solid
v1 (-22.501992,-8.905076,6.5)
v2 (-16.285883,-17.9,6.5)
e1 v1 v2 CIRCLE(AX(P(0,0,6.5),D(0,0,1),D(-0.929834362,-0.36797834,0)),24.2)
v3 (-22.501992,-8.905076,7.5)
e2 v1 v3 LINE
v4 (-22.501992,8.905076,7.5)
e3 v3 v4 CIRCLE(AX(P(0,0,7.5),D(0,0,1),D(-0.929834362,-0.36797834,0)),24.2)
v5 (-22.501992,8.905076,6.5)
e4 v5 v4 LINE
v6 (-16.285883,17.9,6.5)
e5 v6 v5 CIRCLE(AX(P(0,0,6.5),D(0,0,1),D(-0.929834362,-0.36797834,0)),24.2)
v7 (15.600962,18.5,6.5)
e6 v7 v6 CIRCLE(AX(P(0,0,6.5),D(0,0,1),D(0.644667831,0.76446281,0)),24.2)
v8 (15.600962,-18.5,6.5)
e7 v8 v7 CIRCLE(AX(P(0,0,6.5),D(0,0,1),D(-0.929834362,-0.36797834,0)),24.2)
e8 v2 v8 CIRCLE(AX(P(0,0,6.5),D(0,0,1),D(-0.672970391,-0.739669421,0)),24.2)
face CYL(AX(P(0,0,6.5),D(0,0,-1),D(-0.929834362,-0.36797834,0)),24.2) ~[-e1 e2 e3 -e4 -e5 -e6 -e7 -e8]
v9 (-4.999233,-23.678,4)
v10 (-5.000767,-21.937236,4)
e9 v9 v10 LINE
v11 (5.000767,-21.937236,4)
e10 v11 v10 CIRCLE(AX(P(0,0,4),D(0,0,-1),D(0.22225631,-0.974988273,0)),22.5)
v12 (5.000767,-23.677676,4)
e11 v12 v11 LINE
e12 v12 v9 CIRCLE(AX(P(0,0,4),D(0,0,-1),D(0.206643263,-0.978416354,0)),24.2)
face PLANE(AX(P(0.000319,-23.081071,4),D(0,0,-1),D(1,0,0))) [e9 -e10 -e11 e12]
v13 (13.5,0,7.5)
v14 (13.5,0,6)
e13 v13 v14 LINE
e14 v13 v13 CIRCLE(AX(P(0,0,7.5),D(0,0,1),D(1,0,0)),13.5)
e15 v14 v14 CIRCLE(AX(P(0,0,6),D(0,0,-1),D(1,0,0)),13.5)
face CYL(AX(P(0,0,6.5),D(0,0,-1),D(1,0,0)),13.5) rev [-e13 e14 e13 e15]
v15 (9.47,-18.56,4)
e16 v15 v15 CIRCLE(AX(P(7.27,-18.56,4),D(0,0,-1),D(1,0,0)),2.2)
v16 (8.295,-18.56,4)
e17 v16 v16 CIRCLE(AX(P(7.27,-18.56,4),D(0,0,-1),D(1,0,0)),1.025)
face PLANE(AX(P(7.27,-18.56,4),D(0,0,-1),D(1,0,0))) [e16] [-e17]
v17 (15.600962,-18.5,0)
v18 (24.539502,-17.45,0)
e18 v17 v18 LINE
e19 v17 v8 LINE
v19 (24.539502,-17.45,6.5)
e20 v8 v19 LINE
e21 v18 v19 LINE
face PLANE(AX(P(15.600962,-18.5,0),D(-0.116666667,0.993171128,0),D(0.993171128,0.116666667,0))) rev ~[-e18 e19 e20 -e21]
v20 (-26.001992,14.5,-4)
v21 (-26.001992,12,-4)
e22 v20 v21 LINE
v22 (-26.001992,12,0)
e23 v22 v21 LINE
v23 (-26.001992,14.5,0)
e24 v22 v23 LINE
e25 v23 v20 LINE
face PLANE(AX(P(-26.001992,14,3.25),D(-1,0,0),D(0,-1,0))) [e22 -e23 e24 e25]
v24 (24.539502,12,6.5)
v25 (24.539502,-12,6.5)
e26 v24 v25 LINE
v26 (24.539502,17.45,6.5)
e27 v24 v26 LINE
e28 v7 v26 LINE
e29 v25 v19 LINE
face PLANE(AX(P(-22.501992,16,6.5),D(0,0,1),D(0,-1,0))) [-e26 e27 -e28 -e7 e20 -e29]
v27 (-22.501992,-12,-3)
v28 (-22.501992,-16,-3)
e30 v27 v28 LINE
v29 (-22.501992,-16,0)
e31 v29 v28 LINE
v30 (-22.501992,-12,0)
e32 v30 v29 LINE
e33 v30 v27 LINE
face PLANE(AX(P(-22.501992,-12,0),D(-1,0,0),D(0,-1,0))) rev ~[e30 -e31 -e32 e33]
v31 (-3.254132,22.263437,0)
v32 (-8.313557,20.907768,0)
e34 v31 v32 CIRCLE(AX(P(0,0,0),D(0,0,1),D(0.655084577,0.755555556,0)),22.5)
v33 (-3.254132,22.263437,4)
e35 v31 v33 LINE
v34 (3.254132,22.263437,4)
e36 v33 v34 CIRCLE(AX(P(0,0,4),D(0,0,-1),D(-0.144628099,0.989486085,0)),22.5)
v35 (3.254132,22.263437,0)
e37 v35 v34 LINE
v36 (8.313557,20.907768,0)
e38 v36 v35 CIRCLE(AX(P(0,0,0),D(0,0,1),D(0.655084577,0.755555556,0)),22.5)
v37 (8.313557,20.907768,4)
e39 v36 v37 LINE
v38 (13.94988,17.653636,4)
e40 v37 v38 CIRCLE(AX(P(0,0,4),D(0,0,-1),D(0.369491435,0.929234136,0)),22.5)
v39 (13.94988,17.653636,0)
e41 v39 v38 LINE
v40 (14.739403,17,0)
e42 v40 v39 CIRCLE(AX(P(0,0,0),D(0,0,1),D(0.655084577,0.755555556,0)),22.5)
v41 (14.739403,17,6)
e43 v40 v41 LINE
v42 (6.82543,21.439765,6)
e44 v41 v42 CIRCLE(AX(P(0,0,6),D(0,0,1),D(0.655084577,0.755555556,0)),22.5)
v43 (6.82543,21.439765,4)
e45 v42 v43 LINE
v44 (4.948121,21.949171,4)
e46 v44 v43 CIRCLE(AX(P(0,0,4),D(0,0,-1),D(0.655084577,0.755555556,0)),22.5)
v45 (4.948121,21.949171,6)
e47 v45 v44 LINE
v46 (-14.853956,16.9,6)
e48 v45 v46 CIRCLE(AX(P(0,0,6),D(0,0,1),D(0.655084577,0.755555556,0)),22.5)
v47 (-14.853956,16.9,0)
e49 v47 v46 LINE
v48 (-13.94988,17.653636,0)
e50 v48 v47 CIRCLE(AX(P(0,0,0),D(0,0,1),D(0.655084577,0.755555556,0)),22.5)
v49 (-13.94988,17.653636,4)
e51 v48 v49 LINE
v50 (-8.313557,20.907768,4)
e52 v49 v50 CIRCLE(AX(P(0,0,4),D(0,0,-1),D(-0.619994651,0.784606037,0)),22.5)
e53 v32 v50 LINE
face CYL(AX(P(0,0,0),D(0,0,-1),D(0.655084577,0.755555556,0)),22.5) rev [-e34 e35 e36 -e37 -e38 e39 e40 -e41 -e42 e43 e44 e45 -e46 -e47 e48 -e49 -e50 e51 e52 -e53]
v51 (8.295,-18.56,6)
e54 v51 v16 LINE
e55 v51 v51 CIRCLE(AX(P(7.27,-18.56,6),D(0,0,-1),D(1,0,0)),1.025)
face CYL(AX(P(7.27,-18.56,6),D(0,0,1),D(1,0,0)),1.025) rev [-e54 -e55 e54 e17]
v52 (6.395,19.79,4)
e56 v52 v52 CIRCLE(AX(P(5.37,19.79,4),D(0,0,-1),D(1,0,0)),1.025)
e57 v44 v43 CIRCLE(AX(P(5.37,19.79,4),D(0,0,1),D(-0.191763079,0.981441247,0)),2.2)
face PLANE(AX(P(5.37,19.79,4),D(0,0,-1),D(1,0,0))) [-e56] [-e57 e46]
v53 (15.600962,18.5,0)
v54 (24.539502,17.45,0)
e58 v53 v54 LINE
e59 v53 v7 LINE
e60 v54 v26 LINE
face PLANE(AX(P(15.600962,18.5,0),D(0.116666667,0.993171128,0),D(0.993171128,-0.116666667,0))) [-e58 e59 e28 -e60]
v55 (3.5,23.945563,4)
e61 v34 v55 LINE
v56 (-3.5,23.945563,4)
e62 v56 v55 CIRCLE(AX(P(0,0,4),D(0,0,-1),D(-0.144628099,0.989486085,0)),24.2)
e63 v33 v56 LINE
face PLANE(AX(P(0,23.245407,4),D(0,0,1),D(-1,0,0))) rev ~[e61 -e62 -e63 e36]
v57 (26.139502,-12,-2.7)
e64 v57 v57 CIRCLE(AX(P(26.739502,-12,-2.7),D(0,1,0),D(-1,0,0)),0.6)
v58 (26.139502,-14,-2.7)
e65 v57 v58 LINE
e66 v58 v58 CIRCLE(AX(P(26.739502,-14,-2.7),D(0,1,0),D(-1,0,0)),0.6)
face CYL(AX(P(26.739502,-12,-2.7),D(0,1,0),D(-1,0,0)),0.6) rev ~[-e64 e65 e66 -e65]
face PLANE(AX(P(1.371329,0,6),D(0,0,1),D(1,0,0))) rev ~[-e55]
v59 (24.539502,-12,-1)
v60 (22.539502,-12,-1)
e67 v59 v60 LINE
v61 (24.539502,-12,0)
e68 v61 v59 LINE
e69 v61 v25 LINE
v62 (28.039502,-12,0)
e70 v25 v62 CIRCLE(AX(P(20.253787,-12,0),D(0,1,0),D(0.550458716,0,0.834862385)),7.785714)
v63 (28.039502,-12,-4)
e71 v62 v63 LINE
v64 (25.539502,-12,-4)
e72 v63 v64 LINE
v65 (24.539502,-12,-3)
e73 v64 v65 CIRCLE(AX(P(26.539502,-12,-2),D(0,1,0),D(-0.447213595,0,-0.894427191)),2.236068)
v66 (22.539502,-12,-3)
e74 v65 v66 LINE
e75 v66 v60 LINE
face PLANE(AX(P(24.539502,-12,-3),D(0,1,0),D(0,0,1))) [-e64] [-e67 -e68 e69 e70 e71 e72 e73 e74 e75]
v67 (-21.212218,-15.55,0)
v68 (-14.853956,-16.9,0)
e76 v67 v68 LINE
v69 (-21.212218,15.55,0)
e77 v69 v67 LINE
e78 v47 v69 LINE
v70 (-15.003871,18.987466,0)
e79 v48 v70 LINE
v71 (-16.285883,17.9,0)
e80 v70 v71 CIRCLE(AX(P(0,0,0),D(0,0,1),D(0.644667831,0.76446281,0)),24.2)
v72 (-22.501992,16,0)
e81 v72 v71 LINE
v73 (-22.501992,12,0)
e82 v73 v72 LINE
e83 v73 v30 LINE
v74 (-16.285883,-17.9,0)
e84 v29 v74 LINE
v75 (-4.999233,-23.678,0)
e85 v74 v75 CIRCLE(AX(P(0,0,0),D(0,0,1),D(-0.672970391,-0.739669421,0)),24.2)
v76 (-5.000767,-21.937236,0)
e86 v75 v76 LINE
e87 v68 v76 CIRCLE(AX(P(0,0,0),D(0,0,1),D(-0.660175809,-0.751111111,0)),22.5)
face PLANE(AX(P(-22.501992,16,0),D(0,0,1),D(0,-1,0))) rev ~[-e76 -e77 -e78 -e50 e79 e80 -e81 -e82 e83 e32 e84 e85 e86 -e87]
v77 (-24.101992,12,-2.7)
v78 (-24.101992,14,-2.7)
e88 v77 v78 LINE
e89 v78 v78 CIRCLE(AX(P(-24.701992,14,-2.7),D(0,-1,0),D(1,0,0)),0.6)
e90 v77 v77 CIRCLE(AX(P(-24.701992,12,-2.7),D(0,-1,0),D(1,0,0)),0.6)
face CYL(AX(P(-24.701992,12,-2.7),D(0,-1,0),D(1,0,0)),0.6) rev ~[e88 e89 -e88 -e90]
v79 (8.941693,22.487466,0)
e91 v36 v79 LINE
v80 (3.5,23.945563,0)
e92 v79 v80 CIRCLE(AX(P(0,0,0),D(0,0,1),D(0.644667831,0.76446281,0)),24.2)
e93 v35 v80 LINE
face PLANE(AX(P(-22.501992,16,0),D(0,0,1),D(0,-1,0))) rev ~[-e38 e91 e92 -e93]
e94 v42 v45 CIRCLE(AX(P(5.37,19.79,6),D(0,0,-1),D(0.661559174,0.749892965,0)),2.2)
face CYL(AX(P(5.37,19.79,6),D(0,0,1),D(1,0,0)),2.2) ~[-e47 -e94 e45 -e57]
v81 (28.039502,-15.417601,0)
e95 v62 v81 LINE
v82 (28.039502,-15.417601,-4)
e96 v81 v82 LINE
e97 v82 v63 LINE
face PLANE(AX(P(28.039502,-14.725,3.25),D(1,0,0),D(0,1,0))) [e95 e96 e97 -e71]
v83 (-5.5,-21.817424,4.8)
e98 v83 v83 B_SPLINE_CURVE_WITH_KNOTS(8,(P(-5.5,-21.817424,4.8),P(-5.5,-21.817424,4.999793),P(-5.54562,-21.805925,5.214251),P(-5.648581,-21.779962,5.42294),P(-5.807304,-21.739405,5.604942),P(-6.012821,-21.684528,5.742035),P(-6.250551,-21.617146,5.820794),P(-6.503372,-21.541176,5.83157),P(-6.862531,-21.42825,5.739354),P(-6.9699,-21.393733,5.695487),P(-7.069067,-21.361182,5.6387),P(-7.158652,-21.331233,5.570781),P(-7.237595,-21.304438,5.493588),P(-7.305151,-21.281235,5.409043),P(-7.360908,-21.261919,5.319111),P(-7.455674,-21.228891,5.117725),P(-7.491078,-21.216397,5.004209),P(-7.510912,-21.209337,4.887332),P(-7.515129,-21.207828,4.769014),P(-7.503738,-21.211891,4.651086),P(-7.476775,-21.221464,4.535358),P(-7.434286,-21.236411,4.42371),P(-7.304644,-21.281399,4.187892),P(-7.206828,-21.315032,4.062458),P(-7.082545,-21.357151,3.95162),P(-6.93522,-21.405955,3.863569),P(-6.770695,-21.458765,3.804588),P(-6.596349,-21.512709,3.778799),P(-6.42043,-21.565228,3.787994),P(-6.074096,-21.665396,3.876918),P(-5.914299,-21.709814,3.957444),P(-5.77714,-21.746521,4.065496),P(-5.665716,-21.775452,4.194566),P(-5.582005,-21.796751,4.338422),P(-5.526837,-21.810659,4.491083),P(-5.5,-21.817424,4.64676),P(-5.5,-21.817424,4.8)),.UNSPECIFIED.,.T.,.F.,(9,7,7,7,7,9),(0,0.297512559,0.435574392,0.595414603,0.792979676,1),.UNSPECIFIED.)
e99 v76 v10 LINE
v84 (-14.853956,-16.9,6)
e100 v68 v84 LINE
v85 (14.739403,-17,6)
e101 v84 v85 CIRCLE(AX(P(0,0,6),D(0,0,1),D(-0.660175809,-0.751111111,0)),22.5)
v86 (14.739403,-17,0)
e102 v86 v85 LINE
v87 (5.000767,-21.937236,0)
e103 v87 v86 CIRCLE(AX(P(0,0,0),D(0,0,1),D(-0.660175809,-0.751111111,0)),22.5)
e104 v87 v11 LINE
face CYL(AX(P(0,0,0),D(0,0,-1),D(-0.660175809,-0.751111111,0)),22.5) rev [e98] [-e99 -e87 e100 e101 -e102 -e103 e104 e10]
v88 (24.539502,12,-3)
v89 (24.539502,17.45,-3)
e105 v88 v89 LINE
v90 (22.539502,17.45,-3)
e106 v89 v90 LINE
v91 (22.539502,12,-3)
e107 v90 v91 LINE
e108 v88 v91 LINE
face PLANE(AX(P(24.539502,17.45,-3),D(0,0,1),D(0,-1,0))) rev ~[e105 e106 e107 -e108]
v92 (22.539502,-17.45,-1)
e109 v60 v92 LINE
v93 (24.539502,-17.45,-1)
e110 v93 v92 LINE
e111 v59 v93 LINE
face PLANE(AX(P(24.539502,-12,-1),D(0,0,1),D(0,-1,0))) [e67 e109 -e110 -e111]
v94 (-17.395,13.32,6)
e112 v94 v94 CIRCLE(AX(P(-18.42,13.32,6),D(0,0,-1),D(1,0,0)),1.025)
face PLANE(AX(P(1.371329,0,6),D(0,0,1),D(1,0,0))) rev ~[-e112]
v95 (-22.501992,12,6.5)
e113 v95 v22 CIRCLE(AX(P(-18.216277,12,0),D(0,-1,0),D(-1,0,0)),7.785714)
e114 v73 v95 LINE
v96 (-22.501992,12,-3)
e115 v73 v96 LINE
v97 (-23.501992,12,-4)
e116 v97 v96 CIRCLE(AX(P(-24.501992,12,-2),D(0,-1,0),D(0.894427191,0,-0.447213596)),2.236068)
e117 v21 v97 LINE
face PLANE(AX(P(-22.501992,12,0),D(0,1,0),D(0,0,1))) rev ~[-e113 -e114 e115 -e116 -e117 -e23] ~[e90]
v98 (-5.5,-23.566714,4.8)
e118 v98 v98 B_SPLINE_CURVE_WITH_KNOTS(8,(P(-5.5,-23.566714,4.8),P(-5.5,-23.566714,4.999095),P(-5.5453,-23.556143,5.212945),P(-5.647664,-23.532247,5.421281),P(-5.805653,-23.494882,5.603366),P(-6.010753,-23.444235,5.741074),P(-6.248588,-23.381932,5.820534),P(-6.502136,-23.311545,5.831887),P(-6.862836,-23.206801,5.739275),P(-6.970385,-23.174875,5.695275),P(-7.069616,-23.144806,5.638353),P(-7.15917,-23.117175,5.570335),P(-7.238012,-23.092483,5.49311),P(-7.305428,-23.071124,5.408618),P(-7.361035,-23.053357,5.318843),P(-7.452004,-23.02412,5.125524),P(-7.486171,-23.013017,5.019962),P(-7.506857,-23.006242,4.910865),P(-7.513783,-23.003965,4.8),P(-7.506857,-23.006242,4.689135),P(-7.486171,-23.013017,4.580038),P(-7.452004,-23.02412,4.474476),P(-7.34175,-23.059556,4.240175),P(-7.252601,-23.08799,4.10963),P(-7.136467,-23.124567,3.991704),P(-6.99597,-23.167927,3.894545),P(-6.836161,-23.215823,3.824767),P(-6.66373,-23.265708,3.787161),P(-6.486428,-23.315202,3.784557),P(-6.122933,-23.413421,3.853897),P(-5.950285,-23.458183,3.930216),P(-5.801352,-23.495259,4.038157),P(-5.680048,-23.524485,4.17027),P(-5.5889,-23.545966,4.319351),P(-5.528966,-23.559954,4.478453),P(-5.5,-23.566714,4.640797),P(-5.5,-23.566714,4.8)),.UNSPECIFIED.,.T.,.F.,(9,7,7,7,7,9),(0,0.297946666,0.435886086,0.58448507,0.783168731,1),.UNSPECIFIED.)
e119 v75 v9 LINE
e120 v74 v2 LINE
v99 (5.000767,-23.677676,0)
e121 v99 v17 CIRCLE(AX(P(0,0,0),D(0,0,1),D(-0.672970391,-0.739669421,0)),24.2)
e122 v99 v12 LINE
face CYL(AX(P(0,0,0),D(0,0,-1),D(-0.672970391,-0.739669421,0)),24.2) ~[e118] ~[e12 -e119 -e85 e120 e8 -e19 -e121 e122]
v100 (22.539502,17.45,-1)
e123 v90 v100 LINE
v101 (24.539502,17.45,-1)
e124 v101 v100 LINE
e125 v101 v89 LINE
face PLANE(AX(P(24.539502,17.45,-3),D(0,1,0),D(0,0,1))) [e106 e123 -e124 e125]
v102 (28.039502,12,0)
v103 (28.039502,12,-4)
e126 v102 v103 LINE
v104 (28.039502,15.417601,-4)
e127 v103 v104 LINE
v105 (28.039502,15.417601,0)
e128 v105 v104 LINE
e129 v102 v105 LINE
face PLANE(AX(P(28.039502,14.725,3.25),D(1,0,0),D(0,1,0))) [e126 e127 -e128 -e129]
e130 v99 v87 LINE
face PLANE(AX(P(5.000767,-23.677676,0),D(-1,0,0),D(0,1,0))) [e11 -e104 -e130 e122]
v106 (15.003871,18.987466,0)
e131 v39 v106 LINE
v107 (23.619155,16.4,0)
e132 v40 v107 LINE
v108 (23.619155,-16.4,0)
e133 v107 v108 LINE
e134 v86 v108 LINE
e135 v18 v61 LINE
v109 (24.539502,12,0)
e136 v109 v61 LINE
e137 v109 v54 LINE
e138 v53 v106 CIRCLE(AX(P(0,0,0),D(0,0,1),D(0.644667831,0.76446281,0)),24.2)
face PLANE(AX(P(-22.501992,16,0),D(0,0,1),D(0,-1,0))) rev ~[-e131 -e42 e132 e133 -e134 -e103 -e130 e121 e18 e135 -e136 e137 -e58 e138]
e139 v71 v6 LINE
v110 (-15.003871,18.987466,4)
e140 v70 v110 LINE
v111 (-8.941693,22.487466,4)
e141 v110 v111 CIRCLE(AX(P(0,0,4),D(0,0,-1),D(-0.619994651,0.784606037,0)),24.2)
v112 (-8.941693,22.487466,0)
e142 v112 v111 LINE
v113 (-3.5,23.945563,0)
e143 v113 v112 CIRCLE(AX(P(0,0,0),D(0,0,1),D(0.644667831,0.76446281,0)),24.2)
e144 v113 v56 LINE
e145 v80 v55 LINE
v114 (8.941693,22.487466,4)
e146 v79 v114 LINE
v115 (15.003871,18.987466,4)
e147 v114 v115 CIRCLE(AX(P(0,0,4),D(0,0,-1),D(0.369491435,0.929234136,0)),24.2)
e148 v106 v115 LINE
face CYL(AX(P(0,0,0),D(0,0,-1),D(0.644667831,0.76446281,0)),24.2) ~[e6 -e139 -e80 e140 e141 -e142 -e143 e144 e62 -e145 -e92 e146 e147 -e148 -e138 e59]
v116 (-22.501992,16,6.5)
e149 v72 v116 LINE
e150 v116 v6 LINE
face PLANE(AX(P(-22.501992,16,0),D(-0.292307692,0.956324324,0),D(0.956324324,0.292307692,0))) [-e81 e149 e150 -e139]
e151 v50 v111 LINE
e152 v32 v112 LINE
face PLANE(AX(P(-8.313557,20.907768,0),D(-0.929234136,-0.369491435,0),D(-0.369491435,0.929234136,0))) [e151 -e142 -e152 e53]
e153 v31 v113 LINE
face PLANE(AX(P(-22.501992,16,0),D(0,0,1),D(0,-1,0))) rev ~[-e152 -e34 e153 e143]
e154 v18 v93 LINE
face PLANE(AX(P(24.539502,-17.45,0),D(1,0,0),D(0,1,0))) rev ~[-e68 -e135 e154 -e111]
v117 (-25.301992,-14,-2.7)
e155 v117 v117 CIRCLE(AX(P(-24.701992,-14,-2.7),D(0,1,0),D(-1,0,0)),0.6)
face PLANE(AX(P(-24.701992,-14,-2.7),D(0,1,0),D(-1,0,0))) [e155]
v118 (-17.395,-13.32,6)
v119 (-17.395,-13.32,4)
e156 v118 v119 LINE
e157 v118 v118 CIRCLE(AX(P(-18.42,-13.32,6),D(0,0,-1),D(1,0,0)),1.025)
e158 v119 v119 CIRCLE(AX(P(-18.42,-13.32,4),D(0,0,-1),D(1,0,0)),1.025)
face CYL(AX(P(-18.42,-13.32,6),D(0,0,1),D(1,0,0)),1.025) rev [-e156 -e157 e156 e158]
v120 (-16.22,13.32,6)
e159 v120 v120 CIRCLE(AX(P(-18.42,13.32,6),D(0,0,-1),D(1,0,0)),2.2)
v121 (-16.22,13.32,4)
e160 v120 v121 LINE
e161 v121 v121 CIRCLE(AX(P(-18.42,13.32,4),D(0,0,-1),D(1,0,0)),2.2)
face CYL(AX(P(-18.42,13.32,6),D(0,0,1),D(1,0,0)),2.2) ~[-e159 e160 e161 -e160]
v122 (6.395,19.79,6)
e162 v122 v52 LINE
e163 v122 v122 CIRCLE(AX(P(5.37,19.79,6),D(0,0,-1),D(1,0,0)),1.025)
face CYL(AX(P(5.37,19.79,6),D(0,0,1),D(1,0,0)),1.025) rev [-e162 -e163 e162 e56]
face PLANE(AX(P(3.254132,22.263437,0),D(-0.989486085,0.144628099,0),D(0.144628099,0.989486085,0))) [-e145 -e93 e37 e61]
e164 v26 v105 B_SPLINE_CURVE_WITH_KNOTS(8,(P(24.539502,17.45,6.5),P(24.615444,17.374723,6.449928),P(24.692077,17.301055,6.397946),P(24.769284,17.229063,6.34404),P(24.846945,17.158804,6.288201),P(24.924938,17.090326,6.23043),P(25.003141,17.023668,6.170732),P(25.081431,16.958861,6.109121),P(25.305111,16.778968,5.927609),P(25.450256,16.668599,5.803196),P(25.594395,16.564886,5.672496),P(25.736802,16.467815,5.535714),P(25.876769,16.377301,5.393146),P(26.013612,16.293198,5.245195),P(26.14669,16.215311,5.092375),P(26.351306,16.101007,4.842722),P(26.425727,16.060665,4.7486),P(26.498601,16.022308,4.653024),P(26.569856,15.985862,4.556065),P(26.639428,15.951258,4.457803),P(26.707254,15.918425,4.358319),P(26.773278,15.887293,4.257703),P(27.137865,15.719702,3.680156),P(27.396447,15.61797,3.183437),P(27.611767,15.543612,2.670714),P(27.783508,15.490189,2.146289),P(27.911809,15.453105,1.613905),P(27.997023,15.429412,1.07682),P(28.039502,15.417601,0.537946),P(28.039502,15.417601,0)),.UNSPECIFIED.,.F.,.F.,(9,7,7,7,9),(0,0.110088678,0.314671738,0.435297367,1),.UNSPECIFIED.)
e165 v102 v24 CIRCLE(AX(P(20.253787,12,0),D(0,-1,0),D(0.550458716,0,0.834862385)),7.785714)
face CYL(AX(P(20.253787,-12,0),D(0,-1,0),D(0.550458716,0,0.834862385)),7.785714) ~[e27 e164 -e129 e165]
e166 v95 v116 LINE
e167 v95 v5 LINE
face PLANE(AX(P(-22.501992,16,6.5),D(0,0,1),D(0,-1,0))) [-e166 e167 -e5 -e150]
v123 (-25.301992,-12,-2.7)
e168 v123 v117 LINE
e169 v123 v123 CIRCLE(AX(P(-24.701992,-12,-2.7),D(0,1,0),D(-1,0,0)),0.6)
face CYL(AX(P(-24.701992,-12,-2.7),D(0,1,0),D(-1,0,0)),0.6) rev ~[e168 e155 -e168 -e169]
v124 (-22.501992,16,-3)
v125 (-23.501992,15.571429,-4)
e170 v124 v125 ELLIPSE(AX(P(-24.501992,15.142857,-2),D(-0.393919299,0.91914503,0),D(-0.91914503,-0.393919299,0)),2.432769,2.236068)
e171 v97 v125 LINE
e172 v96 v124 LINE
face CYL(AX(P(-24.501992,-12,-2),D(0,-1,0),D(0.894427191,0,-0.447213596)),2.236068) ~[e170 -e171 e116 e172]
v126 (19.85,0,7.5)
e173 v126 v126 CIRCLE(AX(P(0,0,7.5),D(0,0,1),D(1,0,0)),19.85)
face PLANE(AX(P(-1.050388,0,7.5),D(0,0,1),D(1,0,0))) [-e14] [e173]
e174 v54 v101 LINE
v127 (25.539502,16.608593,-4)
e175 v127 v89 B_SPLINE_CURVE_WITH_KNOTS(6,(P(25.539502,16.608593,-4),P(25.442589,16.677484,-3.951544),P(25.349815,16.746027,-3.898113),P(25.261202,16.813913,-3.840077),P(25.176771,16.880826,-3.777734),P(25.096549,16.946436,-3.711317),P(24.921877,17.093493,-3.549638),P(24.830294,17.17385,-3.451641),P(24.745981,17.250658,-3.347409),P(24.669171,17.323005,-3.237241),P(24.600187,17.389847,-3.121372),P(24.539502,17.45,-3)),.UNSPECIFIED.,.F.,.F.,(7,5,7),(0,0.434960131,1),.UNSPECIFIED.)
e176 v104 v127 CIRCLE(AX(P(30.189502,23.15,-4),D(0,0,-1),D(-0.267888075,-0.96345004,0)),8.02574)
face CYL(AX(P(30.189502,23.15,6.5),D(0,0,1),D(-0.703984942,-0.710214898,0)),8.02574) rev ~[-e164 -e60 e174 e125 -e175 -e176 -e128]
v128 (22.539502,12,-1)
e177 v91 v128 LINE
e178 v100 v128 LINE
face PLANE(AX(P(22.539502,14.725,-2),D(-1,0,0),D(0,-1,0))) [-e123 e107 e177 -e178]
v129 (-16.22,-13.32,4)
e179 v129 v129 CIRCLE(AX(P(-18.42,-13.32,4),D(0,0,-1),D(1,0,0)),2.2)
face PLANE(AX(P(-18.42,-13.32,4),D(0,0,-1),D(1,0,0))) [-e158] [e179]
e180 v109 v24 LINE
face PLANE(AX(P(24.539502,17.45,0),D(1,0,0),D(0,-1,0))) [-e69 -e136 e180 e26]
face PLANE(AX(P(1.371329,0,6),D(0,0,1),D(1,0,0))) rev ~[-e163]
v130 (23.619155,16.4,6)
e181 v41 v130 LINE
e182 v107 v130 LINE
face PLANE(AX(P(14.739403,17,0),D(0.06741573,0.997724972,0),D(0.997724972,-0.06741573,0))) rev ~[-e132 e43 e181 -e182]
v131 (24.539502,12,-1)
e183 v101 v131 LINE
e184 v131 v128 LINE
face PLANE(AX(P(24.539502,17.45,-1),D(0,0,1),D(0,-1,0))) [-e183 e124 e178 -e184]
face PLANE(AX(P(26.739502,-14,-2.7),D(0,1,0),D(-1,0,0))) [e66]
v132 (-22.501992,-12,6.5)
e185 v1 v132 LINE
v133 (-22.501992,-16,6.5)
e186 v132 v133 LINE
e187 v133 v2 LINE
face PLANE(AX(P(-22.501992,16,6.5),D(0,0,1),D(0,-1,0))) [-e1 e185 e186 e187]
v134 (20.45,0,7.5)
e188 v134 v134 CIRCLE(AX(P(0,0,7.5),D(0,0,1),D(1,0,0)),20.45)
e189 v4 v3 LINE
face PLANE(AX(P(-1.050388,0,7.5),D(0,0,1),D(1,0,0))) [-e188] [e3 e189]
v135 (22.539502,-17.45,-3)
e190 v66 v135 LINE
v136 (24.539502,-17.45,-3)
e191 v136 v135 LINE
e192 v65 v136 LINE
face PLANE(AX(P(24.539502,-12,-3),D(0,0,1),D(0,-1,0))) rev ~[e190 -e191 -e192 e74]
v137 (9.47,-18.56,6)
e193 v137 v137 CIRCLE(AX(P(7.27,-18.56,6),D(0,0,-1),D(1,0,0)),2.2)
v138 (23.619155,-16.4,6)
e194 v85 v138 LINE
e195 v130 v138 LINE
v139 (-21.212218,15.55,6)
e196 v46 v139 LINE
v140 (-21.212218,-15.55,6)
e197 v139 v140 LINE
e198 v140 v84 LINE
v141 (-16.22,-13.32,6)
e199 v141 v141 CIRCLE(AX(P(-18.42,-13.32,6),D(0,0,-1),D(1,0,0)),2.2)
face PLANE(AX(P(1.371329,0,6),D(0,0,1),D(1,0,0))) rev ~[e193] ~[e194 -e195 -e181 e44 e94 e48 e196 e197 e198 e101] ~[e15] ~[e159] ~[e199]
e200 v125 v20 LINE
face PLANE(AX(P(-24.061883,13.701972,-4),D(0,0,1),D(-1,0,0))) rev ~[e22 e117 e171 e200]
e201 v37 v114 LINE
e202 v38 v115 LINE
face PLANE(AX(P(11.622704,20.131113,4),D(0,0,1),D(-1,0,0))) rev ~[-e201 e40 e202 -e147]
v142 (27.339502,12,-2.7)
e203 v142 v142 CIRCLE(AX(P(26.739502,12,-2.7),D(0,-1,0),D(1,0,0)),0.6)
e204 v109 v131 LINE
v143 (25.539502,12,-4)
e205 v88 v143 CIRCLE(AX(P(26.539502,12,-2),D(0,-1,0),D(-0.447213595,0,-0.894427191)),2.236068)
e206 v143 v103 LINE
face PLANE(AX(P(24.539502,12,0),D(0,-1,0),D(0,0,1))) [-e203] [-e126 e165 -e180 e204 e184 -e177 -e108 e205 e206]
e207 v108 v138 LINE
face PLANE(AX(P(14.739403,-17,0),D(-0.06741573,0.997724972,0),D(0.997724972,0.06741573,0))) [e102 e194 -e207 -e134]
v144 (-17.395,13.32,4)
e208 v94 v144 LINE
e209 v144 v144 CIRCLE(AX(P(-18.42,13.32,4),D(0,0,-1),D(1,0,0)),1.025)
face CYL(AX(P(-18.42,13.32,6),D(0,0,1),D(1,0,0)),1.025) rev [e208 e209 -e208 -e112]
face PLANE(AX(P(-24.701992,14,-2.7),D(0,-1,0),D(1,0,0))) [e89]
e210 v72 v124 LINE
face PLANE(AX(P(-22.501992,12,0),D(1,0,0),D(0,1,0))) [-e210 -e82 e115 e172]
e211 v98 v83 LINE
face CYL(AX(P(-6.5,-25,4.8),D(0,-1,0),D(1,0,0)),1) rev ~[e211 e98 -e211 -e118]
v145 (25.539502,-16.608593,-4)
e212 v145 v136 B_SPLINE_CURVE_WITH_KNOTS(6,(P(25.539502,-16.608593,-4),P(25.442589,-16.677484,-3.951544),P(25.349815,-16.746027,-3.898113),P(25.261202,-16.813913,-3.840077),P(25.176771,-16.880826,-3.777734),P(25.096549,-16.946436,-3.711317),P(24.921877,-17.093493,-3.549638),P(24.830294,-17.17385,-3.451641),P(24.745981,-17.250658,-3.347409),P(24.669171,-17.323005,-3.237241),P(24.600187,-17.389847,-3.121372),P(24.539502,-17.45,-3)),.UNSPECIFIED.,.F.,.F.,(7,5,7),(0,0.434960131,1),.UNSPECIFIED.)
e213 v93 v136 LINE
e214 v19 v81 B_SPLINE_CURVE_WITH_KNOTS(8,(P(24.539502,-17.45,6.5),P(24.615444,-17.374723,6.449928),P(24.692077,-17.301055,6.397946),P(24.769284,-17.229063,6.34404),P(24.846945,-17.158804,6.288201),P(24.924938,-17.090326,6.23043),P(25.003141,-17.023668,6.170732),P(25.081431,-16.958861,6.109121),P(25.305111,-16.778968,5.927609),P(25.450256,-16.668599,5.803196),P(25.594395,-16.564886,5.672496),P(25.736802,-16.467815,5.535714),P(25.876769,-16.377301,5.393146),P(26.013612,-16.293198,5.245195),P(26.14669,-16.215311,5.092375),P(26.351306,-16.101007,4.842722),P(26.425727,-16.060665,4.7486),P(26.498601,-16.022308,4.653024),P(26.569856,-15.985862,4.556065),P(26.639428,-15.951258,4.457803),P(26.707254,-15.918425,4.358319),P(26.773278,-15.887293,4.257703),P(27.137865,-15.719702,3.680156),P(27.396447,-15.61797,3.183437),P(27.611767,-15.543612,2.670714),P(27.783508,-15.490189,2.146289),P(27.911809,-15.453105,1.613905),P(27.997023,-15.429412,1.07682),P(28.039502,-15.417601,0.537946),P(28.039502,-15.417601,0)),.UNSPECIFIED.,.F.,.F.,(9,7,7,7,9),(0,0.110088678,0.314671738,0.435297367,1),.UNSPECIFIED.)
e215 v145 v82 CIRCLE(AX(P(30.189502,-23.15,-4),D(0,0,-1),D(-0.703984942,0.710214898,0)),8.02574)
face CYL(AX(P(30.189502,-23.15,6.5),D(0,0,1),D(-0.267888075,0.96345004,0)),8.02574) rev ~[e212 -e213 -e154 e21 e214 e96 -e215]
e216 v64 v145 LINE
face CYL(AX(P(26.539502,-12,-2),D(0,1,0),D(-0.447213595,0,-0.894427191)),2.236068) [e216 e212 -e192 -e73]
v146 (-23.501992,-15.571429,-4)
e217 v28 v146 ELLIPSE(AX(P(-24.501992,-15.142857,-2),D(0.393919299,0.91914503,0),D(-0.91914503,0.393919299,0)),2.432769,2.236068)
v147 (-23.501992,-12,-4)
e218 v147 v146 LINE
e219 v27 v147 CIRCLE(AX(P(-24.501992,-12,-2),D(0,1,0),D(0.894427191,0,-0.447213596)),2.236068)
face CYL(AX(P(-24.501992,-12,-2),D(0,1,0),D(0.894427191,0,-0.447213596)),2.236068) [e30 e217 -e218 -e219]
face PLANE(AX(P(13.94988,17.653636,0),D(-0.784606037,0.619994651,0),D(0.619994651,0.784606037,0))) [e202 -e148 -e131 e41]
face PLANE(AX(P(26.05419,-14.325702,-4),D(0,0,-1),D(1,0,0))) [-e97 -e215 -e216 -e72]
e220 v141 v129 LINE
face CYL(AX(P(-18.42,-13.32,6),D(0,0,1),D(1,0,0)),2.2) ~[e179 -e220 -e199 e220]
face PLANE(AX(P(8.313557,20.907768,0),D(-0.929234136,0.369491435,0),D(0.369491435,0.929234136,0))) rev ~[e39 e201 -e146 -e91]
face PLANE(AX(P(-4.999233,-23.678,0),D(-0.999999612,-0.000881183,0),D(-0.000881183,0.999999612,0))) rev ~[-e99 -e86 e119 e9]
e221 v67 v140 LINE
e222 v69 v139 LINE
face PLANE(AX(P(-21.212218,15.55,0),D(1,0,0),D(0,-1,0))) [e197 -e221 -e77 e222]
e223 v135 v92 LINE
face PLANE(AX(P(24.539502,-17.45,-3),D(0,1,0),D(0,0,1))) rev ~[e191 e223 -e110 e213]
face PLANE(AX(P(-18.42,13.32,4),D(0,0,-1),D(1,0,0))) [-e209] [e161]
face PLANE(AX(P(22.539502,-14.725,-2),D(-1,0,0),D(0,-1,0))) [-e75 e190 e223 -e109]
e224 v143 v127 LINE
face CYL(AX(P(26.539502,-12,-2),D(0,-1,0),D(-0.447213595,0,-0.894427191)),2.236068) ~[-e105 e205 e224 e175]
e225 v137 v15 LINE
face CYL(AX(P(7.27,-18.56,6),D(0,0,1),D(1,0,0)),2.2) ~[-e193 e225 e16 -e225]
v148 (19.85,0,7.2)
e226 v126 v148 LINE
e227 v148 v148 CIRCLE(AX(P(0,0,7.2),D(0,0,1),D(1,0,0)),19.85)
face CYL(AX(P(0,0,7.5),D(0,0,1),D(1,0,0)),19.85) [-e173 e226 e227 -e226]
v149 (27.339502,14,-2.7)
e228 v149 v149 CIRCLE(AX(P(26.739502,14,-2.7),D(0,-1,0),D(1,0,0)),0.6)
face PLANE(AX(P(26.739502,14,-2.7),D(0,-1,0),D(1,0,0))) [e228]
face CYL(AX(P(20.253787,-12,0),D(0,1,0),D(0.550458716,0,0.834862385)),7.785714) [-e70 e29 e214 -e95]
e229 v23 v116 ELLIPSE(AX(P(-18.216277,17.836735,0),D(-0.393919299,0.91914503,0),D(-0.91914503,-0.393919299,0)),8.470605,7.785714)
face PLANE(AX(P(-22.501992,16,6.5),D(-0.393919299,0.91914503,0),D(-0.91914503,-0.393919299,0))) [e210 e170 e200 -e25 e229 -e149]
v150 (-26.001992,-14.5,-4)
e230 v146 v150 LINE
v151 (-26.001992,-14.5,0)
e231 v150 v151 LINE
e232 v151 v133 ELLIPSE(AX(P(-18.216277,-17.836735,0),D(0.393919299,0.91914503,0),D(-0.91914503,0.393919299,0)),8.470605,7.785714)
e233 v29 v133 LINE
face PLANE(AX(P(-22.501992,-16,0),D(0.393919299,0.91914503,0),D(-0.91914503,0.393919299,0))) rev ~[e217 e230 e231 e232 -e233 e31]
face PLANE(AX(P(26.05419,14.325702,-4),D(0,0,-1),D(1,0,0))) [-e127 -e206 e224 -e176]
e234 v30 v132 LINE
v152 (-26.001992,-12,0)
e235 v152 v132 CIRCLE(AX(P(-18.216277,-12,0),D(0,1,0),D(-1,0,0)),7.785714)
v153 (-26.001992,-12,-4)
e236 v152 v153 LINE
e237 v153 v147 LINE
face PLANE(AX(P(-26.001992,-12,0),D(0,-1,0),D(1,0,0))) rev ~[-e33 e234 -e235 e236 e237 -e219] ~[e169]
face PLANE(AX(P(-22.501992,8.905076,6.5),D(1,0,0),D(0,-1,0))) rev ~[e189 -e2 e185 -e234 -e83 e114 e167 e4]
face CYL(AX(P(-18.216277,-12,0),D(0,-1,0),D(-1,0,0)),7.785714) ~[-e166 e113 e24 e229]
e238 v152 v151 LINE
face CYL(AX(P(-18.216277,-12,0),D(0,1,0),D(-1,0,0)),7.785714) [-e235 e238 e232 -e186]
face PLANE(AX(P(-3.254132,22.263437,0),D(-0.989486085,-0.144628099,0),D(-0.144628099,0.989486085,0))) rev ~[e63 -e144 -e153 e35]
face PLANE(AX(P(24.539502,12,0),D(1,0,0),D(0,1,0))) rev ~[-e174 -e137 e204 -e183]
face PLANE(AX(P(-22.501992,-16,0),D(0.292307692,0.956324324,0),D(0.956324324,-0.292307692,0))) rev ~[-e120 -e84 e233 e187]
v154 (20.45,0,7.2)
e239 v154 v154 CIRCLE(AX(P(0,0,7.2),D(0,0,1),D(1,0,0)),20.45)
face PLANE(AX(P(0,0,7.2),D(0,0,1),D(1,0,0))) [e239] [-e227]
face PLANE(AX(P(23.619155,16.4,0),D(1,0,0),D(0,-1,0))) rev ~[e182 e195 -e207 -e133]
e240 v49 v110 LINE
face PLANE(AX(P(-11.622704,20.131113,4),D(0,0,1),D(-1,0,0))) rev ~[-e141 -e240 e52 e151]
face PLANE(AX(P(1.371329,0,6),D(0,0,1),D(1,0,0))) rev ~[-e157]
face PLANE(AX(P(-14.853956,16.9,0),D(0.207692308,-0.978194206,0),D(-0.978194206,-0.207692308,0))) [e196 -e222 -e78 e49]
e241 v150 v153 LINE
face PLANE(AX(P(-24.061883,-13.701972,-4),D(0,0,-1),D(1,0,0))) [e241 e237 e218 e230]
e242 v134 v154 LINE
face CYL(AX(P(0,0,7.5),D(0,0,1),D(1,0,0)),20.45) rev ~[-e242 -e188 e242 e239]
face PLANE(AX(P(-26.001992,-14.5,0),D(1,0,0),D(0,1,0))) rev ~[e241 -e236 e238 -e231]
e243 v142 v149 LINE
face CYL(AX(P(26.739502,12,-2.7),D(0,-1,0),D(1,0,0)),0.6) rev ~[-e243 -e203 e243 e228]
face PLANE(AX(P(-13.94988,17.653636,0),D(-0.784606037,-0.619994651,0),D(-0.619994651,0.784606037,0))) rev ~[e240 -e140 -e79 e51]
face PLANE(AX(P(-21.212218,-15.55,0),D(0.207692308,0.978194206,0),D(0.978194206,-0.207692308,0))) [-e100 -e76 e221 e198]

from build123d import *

# Parameters (mm, degrees)
PAD_DEPTH            = 6.5
POCKET_DEPTH         = 6
SKETCH002_R          = 13.5
POCKET001_DEPTH      = 1
SKETCH003_W          = 5.45
SKETCH003_H          = 6.5
PAD001_DEPTH         = 3.5
POCKET002_DEPTH      = 10
SKETCH010_W          = 4
SKETCH010_H          = 6.5
PAD002_DEPTH         = 3.5
POCKET005_DEPTH      = 10
SKETCH015_R          = 2.2
SKETCH015_R_2        = 1.025
PAD003_DEPTH         = 2
POCKET009_DEPTH      = 4
POCKET010_DEPTH      = 4
PAD004_DEPTH         = 4
POCKET013_DEPTH      = 12.201
POCKET013_DEPTH_BACK = 36.201
SKETCH022_R          = 0.6
POCKET014_DEPTH      = 2
SKETCH023_R          = 0.6
POCKET015_DEPTH      = 2
SKETCH024_R          = 13.5
PAD005_DEPTH         = 1
SKETCH025_R          = 20.45
SKETCH025_R_2        = 19.85
POCKET016_DEPTH      = 0.3
SKETCH026_R          = 1
POCKET017_DEPTH      = 5
SKETCH027_W          = 5.4500000001
SKETCH027_H          = 2
SKETCH027_W_2        = 5.45
PAD006_DEPTH         = 2


with BuildPart() as part:
    # Sketch → Pad (new body)
    with BuildSketch(Plane.XY):
        with BuildLine():
            Line((-22.5019915649, 16), (-22.5019915649, -16))
            Line((-22.5019915649, -16), (-16.2858834578, -17.9))
            ThreePointArc((-16.2858834578, -17.9), (-0.4552796053, -24.1957169863), (15.6009615088, -18.5))
            Line((15.6009615088, -18.5), (24.5395016581, -17.45))
            Line((24.5395016581, 17.45), (24.5395016581, -17.45))
            Line((15.6009615088, 18.5), (24.5395016581, 17.45))
            ThreePointArc((15.6009615088, 18.5), (-0.4552796053, 24.1957169863), (-16.2858834578, 17.9))
            Line((-22.5019915649, 16), (-16.2858834578, 17.9))
        make_face()
    extrude(amount=PAD_DEPTH)

    # Sketch001 → Pocket (cut)
    with BuildSketch(Plane.XY):
        with BuildLine():
            Line((-14.8539557021, 16.9), (-21.2122180433, 15.55))
            Line((-21.2122180433, 15.55), (-21.2122180433, -15.55))
            Line((-21.2122180433, -15.55), (-14.8539557021, -16.9))
            ThreePointArc((-14.8539557021, -16.9), (-0.0760301383, -22.4998715423), (14.739402973, -17))
            Line((14.739402973, -17), (23.6191552218, -16.4))
            Line((23.6191552218, 16.4), (23.6191552218, -16.4))
            Line((14.739402973, 17), (23.6191552218, 16.4))
            ThreePointArc((14.739402973, 17), (-0.0760301383, 22.4998715423), (-14.8539557021, 16.9))
        make_face()
    extrude(amount=POCKET_DEPTH, mode=Mode.SUBTRACT)

    # Sketch002 (on Face19 of Pocket) → Pocket001 (cut)
    with BuildSketch(Plane(origin=(0, 0, 6), x_dir=(1, 0, 0), z_dir=(0, 0, -1))):
        Circle(SKETCH002_R)
    extrude(amount=-POCKET001_DEPTH, mode=Mode.SUBTRACT)

    # Sketch003 (on Face7 of Pad) → Pad001 (join)
    with BuildSketch(Plane.YZ.offset(24.5395016581)):
        with Locations((-14.725, 3.25)):
            Rectangle(SKETCH003_W, SKETCH003_H)
        with Locations((14.725, 3.25)):
            Rectangle(SKETCH003_W, SKETCH003_H)
    extrude(amount=PAD001_DEPTH)

    # Sketch006 (on Face22 of Pad001) → Pocket002 (cut)
    with BuildSketch(Plane.XY.offset(6.5)):
        with BuildLine():
            ThreePointArc((24.5395016581, 17.45), (26.1592830786, 16.2095505764), (28.0395016581, 15.4176006311))
            Line((28.0395016581, 17.45), (28.0395016581, 15.4176006311))
            Line((28.0395016581, 17.45), (24.5395016581, 17.45))
        make_face()
        with BuildLine():
            ThreePointArc((28.0395016581, -15.4176006311), (26.1592830786, -16.2095505765), (24.5395016581, -17.4500000001))
            Line((28.0395016581, -17.45), (24.5395016581, -17.4500000001))
            Line((28.0395016581, -15.4176006311), (28.0395016581, -17.45))
        make_face()
    extrude(amount=-POCKET002_DEPTH, mode=Mode.SUBTRACT)

    # Sketch010 (on Face3 of Pad) → Pad002 (join)
    with BuildSketch(Plane(origin=(-22.5019915649, 0, 0), x_dir=(0, -1, 0), z_dir=(-1, 0, 0))):
        with Locations((-14, 3.25)):
            Rectangle(SKETCH010_W, SKETCH010_H)
        with Locations((14, 3.25)):
            Rectangle(SKETCH010_W, SKETCH010_H)
    extrude(amount=PAD002_DEPTH)

    # Sketch011 (on Face28 of Pad002) → Pocket005 (cut)
    with BuildSketch(Plane.XY.offset(6.5)):
        Polygon((-26.0019915649, 16), (-22.5019915649, 16), (-26.0019915649, 14.5), align=None)
        Polygon((-22.5019915649, -16), (-26.0019915649, -14.5), (-26.0019915649, -16), align=None)
    extrude(amount=-POCKET005_DEPTH, mode=Mode.SUBTRACT)

    # Sketch015 (on Face19 of Pocket) → Pad003 (join)
    with BuildSketch(Plane(origin=(0, 0, 6), x_dir=(1, 0, 0), z_dir=(0, 0, -1))):
        with Locations((-18.42, 13.32)):
            Circle(SKETCH015_R)
        with Locations((-18.42, 13.32)):
            Circle(SKETCH015_R_2, mode=Mode.SUBTRACT)
        with Locations((7.27, 18.56)):
            Circle(SKETCH015_R)
        with Locations((7.27, 18.56)):
            Circle(SKETCH015_R_2, mode=Mode.SUBTRACT)
        with Locations((5.37, -19.79)):
            Circle(SKETCH015_R)
        with Locations((5.37, -19.79)):
            Circle(SKETCH015_R_2, mode=Mode.SUBTRACT)
        with Locations((-18.42, -13.32)):
            Circle(SKETCH015_R)
        with Locations((-18.42, -13.32)):
            Circle(SKETCH015_R_2, mode=Mode.SUBTRACT)
    extrude(amount=PAD003_DEPTH)

    # Sketch016 (on Face4 of Pocket) → Pocket009 (cut)
    with BuildSketch(Plane(origin=(0, 0, 0), x_dir=(1, 0, 0), z_dir=(0, 0, -1))):
        with BuildLine():
            Line((-4.9992330338, 23.6779996848), (-5.0007669662, 21.9372361465))
            ThreePointArc((5.0007669662, 21.9372361465), (0, 22.5), (-5.0007669662, 21.9372361465))
            Line((5.0007669662, 23.6776757675), (5.0007669662, 21.9372361465))
            ThreePointArc((5.0007669662, 23.6776757675), (0.00078388, 24.1999999873), (-4.9992330338, 23.6779996848))
        make_face()
    extrude(amount=-POCKET009_DEPTH, mode=Mode.SUBTRACT)

    # Sketch017 (on Face4 of Pocket) → Pocket010 (cut)
    with BuildSketch(Plane(origin=(0, 0, 0), x_dir=(1, 0, 0), z_dir=(0, 0, -1))):
        with BuildLine():
            ThreePointArc((-3.2541322314, -22.2634369184), (0, -22.5), (3.2541322314, -22.2634369184))
            Line((3.2541322314, -22.2634369184), (3.5, -23.9455632634))
            ThreePointArc((-3.5, -23.9455632634), (0, -24.2), (3.5, -23.9455632634))
            Line((-3.2541322314, -22.2634369184), (-3.5, -23.9455632634))
        make_face()
        with BuildLine():
            ThreePointArc((-13.9498796389, -17.6536358312), (-11.25, -19.4855715851), (-8.3135572795, -20.9077680626))
            Line((-8.3135572795, -20.9077680626), (-8.9416927184, -22.487466094))
            ThreePointArc((-15.0038705449, -18.987466094), (-12.1, -20.9578147716), (-8.9416927184, -22.487466094))
            Line((-13.9498796389, -17.6536358312), (-15.0038705449, -18.987466094))
        make_face()
        with BuildLine():
            ThreePointArc((8.3135572795, -20.9077680626), (11.25, -19.4855715851), (13.9498796389, -17.6536358312))
            Line((13.9498796389, -17.6536358312), (15.0038705449, -18.987466094))
            ThreePointArc((8.9416927184, -22.487466094), (12.1, -20.9578147716), (15.0038705449, -18.987466094))
            Line((8.3135572795, -20.9077680626), (8.9416927184, -22.487466094))
        make_face()
    extrude(amount=-POCKET010_DEPTH, mode=Mode.SUBTRACT)

    # Sketch018 (on Face8 of Pocket005) → Pad004 (join)
    with BuildSketch(Plane(origin=(0, 0, 0), x_dir=(1, 0, 0), z_dir=(0, 0, -1))):
        Polygon((-26.0019915649, 14.5), (-26.0019915649, 12), (-22.5019915649, 12), (-22.5019915649, 16), align=None)
        Polygon((-26.0019915649, -12), (-22.5019915649, -12), (-22.5019915649, -16), (-26.0019915649, -14.5), align=None)
        with BuildLine():
            Line((24.5395016581, 17.4500000001), (24.5395016581, 12))
            Line((28.0395016581, 12), (24.5395016581, 12))
            Line((28.0395016581, 15.4176006311), (28.0395016581, 12))
            ThreePointArc((24.5395016581, 17.4500000001), (26.1592830786, 16.2095505765), (28.0395016581, 15.4176006311))
        make_face()
        with BuildLine():
            Line((24.5395016581, -12), (24.5395016581, -17.45))
            ThreePointArc((28.0395016581, -15.4176006311), (26.1592830786, -16.2095505764), (24.5395016581, -17.45))
            Line((28.0395016581, -12), (28.0395016581, -15.4176006311))
            Line((24.5395016581, -12), (28.0395016581, -12))
        make_face()
    extrude(amount=PAD004_DEPTH)

    # Sketch021 (on Face50 of Pad004) → Pocket013 (cut, two sides)
    with BuildSketch(Plane(origin=(0, -12, 0), x_dir=(-1, 0, 0), z_dir=(0, 1, 0))) as pocket013_sk:
        with BuildLine():
            Line((-24.5395016581, -4), (-24.5395016581, -3))
            ThreePointArc((-25.5395016581, -4), (-24.958362828, -3.5811388301), (-24.5395016581, -3))
            Line((-24.5395016581, -4), (-25.5395016581, -4))
        make_face()
        with BuildLine():
            Line((22.5019915649, -4), (22.5019915649, -3))
            ThreePointArc((22.5019915649, -3), (22.9208527349, -3.5811388301), (23.5019915649, -4))
            Line((22.5019915649, -4), (23.5019915649, -4))
        make_face()
        with BuildLine():
            Line((-28.0395016581, 0), (-28.0395016581, 6.5))
            Line((-28.0395016581, 6.5), (-24.5395016581, 6.5))
            ThreePointArc((-24.5395016581, 6.5), (-27.1088837932, 3.6912057651), (-28.0395016581, 0))
        make_face()
        with BuildLine():
            Line((26.0019915649, 6.5), (26.0019915649, 0))
            ThreePointArc((26.0019915649, 0), (25.0713737, 3.6912057651), (22.5019915649, 6.5))
            Line((26.0019915649, 6.5), (22.5019915649, 6.5))
        make_face()
    extrude(amount=-POCKET013_DEPTH, mode=Mode.SUBTRACT)
    extrude(pocket013_sk.sketch, amount=POCKET013_DEPTH_BACK, mode=Mode.SUBTRACT)

    # Sketch022 (on Face66 of Pocket013) → Pocket014 (cut)
    with BuildSketch(Plane.XZ.offset(-12)):
        with Locations((-24.7019915649, -2.7)):
            Circle(SKETCH022_R)
        with Locations((26.7395016581, -2.7)):
            Circle(SKETCH022_R)
    extrude(amount=-POCKET014_DEPTH, mode=Mode.SUBTRACT)

    # Sketch023 (on Face49 of Pocket014) → Pocket015 (cut)
    with BuildSketch(Plane(origin=(0, -12, 0), x_dir=(-1, 0, 0), z_dir=(0, 1, 0))):
        with Locations((-26.7395016581, -2.7)):
            Circle(SKETCH023_R)
        with Locations((24.7019915649, -2.7)):
            Circle(SKETCH023_R)
    extrude(amount=-POCKET015_DEPTH, mode=Mode.SUBTRACT)

    # Sketch024 (on Face16 of Pocket015) → Pad005 (join)
    with BuildSketch(Plane.XY.offset(6.5)):
        with BuildLine():
            ThreePointArc((-22.5019915649, -8.9050758341), (24.2, 0), (-22.5019915649, 8.9050758341))
            Line((-22.5019915649, 8.9050758341), (-22.5019915649, -8.9050758341))
        make_face()
        Circle(SKETCH024_R, mode=Mode.SUBTRACT)
    extrude(amount=PAD005_DEPTH)

    # Sketch025 (on Face42 of Pad005) → Pocket016 (cut)
    with BuildSketch(Plane.XY.offset(7.5)):
        Circle(SKETCH025_R)
        Circle(SKETCH025_R_2, mode=Mode.SUBTRACT)
    extrude(amount=-POCKET016_DEPTH, mode=Mode.SUBTRACT)

    # Sketch026 (on DatumPlane) → Pocket017 (cut)
    with BuildSketch(Plane.XZ.offset(25)):
        with Locations((-6.5, 4.8)):
            Circle(SKETCH026_R)
    extrude(amount=-POCKET017_DEPTH, mode=Mode.SUBTRACT)

    # Sketch027 (on Face18 of Pocket017) → Pad006 (join)
    with BuildSketch(Plane(origin=(24.5395016581, 0, 0), x_dir=(0, -1, 0), z_dir=(-1, 0, 0))):
        with Locations((14.7250000001, -2)):
            Rectangle(SKETCH027_W, SKETCH027_H)
        with Locations((-14.725, -2)):
            Rectangle(SKETCH027_W_2, SKETCH027_H)
    extrude(amount=PAD006_DEPTH)


solid = part.part
